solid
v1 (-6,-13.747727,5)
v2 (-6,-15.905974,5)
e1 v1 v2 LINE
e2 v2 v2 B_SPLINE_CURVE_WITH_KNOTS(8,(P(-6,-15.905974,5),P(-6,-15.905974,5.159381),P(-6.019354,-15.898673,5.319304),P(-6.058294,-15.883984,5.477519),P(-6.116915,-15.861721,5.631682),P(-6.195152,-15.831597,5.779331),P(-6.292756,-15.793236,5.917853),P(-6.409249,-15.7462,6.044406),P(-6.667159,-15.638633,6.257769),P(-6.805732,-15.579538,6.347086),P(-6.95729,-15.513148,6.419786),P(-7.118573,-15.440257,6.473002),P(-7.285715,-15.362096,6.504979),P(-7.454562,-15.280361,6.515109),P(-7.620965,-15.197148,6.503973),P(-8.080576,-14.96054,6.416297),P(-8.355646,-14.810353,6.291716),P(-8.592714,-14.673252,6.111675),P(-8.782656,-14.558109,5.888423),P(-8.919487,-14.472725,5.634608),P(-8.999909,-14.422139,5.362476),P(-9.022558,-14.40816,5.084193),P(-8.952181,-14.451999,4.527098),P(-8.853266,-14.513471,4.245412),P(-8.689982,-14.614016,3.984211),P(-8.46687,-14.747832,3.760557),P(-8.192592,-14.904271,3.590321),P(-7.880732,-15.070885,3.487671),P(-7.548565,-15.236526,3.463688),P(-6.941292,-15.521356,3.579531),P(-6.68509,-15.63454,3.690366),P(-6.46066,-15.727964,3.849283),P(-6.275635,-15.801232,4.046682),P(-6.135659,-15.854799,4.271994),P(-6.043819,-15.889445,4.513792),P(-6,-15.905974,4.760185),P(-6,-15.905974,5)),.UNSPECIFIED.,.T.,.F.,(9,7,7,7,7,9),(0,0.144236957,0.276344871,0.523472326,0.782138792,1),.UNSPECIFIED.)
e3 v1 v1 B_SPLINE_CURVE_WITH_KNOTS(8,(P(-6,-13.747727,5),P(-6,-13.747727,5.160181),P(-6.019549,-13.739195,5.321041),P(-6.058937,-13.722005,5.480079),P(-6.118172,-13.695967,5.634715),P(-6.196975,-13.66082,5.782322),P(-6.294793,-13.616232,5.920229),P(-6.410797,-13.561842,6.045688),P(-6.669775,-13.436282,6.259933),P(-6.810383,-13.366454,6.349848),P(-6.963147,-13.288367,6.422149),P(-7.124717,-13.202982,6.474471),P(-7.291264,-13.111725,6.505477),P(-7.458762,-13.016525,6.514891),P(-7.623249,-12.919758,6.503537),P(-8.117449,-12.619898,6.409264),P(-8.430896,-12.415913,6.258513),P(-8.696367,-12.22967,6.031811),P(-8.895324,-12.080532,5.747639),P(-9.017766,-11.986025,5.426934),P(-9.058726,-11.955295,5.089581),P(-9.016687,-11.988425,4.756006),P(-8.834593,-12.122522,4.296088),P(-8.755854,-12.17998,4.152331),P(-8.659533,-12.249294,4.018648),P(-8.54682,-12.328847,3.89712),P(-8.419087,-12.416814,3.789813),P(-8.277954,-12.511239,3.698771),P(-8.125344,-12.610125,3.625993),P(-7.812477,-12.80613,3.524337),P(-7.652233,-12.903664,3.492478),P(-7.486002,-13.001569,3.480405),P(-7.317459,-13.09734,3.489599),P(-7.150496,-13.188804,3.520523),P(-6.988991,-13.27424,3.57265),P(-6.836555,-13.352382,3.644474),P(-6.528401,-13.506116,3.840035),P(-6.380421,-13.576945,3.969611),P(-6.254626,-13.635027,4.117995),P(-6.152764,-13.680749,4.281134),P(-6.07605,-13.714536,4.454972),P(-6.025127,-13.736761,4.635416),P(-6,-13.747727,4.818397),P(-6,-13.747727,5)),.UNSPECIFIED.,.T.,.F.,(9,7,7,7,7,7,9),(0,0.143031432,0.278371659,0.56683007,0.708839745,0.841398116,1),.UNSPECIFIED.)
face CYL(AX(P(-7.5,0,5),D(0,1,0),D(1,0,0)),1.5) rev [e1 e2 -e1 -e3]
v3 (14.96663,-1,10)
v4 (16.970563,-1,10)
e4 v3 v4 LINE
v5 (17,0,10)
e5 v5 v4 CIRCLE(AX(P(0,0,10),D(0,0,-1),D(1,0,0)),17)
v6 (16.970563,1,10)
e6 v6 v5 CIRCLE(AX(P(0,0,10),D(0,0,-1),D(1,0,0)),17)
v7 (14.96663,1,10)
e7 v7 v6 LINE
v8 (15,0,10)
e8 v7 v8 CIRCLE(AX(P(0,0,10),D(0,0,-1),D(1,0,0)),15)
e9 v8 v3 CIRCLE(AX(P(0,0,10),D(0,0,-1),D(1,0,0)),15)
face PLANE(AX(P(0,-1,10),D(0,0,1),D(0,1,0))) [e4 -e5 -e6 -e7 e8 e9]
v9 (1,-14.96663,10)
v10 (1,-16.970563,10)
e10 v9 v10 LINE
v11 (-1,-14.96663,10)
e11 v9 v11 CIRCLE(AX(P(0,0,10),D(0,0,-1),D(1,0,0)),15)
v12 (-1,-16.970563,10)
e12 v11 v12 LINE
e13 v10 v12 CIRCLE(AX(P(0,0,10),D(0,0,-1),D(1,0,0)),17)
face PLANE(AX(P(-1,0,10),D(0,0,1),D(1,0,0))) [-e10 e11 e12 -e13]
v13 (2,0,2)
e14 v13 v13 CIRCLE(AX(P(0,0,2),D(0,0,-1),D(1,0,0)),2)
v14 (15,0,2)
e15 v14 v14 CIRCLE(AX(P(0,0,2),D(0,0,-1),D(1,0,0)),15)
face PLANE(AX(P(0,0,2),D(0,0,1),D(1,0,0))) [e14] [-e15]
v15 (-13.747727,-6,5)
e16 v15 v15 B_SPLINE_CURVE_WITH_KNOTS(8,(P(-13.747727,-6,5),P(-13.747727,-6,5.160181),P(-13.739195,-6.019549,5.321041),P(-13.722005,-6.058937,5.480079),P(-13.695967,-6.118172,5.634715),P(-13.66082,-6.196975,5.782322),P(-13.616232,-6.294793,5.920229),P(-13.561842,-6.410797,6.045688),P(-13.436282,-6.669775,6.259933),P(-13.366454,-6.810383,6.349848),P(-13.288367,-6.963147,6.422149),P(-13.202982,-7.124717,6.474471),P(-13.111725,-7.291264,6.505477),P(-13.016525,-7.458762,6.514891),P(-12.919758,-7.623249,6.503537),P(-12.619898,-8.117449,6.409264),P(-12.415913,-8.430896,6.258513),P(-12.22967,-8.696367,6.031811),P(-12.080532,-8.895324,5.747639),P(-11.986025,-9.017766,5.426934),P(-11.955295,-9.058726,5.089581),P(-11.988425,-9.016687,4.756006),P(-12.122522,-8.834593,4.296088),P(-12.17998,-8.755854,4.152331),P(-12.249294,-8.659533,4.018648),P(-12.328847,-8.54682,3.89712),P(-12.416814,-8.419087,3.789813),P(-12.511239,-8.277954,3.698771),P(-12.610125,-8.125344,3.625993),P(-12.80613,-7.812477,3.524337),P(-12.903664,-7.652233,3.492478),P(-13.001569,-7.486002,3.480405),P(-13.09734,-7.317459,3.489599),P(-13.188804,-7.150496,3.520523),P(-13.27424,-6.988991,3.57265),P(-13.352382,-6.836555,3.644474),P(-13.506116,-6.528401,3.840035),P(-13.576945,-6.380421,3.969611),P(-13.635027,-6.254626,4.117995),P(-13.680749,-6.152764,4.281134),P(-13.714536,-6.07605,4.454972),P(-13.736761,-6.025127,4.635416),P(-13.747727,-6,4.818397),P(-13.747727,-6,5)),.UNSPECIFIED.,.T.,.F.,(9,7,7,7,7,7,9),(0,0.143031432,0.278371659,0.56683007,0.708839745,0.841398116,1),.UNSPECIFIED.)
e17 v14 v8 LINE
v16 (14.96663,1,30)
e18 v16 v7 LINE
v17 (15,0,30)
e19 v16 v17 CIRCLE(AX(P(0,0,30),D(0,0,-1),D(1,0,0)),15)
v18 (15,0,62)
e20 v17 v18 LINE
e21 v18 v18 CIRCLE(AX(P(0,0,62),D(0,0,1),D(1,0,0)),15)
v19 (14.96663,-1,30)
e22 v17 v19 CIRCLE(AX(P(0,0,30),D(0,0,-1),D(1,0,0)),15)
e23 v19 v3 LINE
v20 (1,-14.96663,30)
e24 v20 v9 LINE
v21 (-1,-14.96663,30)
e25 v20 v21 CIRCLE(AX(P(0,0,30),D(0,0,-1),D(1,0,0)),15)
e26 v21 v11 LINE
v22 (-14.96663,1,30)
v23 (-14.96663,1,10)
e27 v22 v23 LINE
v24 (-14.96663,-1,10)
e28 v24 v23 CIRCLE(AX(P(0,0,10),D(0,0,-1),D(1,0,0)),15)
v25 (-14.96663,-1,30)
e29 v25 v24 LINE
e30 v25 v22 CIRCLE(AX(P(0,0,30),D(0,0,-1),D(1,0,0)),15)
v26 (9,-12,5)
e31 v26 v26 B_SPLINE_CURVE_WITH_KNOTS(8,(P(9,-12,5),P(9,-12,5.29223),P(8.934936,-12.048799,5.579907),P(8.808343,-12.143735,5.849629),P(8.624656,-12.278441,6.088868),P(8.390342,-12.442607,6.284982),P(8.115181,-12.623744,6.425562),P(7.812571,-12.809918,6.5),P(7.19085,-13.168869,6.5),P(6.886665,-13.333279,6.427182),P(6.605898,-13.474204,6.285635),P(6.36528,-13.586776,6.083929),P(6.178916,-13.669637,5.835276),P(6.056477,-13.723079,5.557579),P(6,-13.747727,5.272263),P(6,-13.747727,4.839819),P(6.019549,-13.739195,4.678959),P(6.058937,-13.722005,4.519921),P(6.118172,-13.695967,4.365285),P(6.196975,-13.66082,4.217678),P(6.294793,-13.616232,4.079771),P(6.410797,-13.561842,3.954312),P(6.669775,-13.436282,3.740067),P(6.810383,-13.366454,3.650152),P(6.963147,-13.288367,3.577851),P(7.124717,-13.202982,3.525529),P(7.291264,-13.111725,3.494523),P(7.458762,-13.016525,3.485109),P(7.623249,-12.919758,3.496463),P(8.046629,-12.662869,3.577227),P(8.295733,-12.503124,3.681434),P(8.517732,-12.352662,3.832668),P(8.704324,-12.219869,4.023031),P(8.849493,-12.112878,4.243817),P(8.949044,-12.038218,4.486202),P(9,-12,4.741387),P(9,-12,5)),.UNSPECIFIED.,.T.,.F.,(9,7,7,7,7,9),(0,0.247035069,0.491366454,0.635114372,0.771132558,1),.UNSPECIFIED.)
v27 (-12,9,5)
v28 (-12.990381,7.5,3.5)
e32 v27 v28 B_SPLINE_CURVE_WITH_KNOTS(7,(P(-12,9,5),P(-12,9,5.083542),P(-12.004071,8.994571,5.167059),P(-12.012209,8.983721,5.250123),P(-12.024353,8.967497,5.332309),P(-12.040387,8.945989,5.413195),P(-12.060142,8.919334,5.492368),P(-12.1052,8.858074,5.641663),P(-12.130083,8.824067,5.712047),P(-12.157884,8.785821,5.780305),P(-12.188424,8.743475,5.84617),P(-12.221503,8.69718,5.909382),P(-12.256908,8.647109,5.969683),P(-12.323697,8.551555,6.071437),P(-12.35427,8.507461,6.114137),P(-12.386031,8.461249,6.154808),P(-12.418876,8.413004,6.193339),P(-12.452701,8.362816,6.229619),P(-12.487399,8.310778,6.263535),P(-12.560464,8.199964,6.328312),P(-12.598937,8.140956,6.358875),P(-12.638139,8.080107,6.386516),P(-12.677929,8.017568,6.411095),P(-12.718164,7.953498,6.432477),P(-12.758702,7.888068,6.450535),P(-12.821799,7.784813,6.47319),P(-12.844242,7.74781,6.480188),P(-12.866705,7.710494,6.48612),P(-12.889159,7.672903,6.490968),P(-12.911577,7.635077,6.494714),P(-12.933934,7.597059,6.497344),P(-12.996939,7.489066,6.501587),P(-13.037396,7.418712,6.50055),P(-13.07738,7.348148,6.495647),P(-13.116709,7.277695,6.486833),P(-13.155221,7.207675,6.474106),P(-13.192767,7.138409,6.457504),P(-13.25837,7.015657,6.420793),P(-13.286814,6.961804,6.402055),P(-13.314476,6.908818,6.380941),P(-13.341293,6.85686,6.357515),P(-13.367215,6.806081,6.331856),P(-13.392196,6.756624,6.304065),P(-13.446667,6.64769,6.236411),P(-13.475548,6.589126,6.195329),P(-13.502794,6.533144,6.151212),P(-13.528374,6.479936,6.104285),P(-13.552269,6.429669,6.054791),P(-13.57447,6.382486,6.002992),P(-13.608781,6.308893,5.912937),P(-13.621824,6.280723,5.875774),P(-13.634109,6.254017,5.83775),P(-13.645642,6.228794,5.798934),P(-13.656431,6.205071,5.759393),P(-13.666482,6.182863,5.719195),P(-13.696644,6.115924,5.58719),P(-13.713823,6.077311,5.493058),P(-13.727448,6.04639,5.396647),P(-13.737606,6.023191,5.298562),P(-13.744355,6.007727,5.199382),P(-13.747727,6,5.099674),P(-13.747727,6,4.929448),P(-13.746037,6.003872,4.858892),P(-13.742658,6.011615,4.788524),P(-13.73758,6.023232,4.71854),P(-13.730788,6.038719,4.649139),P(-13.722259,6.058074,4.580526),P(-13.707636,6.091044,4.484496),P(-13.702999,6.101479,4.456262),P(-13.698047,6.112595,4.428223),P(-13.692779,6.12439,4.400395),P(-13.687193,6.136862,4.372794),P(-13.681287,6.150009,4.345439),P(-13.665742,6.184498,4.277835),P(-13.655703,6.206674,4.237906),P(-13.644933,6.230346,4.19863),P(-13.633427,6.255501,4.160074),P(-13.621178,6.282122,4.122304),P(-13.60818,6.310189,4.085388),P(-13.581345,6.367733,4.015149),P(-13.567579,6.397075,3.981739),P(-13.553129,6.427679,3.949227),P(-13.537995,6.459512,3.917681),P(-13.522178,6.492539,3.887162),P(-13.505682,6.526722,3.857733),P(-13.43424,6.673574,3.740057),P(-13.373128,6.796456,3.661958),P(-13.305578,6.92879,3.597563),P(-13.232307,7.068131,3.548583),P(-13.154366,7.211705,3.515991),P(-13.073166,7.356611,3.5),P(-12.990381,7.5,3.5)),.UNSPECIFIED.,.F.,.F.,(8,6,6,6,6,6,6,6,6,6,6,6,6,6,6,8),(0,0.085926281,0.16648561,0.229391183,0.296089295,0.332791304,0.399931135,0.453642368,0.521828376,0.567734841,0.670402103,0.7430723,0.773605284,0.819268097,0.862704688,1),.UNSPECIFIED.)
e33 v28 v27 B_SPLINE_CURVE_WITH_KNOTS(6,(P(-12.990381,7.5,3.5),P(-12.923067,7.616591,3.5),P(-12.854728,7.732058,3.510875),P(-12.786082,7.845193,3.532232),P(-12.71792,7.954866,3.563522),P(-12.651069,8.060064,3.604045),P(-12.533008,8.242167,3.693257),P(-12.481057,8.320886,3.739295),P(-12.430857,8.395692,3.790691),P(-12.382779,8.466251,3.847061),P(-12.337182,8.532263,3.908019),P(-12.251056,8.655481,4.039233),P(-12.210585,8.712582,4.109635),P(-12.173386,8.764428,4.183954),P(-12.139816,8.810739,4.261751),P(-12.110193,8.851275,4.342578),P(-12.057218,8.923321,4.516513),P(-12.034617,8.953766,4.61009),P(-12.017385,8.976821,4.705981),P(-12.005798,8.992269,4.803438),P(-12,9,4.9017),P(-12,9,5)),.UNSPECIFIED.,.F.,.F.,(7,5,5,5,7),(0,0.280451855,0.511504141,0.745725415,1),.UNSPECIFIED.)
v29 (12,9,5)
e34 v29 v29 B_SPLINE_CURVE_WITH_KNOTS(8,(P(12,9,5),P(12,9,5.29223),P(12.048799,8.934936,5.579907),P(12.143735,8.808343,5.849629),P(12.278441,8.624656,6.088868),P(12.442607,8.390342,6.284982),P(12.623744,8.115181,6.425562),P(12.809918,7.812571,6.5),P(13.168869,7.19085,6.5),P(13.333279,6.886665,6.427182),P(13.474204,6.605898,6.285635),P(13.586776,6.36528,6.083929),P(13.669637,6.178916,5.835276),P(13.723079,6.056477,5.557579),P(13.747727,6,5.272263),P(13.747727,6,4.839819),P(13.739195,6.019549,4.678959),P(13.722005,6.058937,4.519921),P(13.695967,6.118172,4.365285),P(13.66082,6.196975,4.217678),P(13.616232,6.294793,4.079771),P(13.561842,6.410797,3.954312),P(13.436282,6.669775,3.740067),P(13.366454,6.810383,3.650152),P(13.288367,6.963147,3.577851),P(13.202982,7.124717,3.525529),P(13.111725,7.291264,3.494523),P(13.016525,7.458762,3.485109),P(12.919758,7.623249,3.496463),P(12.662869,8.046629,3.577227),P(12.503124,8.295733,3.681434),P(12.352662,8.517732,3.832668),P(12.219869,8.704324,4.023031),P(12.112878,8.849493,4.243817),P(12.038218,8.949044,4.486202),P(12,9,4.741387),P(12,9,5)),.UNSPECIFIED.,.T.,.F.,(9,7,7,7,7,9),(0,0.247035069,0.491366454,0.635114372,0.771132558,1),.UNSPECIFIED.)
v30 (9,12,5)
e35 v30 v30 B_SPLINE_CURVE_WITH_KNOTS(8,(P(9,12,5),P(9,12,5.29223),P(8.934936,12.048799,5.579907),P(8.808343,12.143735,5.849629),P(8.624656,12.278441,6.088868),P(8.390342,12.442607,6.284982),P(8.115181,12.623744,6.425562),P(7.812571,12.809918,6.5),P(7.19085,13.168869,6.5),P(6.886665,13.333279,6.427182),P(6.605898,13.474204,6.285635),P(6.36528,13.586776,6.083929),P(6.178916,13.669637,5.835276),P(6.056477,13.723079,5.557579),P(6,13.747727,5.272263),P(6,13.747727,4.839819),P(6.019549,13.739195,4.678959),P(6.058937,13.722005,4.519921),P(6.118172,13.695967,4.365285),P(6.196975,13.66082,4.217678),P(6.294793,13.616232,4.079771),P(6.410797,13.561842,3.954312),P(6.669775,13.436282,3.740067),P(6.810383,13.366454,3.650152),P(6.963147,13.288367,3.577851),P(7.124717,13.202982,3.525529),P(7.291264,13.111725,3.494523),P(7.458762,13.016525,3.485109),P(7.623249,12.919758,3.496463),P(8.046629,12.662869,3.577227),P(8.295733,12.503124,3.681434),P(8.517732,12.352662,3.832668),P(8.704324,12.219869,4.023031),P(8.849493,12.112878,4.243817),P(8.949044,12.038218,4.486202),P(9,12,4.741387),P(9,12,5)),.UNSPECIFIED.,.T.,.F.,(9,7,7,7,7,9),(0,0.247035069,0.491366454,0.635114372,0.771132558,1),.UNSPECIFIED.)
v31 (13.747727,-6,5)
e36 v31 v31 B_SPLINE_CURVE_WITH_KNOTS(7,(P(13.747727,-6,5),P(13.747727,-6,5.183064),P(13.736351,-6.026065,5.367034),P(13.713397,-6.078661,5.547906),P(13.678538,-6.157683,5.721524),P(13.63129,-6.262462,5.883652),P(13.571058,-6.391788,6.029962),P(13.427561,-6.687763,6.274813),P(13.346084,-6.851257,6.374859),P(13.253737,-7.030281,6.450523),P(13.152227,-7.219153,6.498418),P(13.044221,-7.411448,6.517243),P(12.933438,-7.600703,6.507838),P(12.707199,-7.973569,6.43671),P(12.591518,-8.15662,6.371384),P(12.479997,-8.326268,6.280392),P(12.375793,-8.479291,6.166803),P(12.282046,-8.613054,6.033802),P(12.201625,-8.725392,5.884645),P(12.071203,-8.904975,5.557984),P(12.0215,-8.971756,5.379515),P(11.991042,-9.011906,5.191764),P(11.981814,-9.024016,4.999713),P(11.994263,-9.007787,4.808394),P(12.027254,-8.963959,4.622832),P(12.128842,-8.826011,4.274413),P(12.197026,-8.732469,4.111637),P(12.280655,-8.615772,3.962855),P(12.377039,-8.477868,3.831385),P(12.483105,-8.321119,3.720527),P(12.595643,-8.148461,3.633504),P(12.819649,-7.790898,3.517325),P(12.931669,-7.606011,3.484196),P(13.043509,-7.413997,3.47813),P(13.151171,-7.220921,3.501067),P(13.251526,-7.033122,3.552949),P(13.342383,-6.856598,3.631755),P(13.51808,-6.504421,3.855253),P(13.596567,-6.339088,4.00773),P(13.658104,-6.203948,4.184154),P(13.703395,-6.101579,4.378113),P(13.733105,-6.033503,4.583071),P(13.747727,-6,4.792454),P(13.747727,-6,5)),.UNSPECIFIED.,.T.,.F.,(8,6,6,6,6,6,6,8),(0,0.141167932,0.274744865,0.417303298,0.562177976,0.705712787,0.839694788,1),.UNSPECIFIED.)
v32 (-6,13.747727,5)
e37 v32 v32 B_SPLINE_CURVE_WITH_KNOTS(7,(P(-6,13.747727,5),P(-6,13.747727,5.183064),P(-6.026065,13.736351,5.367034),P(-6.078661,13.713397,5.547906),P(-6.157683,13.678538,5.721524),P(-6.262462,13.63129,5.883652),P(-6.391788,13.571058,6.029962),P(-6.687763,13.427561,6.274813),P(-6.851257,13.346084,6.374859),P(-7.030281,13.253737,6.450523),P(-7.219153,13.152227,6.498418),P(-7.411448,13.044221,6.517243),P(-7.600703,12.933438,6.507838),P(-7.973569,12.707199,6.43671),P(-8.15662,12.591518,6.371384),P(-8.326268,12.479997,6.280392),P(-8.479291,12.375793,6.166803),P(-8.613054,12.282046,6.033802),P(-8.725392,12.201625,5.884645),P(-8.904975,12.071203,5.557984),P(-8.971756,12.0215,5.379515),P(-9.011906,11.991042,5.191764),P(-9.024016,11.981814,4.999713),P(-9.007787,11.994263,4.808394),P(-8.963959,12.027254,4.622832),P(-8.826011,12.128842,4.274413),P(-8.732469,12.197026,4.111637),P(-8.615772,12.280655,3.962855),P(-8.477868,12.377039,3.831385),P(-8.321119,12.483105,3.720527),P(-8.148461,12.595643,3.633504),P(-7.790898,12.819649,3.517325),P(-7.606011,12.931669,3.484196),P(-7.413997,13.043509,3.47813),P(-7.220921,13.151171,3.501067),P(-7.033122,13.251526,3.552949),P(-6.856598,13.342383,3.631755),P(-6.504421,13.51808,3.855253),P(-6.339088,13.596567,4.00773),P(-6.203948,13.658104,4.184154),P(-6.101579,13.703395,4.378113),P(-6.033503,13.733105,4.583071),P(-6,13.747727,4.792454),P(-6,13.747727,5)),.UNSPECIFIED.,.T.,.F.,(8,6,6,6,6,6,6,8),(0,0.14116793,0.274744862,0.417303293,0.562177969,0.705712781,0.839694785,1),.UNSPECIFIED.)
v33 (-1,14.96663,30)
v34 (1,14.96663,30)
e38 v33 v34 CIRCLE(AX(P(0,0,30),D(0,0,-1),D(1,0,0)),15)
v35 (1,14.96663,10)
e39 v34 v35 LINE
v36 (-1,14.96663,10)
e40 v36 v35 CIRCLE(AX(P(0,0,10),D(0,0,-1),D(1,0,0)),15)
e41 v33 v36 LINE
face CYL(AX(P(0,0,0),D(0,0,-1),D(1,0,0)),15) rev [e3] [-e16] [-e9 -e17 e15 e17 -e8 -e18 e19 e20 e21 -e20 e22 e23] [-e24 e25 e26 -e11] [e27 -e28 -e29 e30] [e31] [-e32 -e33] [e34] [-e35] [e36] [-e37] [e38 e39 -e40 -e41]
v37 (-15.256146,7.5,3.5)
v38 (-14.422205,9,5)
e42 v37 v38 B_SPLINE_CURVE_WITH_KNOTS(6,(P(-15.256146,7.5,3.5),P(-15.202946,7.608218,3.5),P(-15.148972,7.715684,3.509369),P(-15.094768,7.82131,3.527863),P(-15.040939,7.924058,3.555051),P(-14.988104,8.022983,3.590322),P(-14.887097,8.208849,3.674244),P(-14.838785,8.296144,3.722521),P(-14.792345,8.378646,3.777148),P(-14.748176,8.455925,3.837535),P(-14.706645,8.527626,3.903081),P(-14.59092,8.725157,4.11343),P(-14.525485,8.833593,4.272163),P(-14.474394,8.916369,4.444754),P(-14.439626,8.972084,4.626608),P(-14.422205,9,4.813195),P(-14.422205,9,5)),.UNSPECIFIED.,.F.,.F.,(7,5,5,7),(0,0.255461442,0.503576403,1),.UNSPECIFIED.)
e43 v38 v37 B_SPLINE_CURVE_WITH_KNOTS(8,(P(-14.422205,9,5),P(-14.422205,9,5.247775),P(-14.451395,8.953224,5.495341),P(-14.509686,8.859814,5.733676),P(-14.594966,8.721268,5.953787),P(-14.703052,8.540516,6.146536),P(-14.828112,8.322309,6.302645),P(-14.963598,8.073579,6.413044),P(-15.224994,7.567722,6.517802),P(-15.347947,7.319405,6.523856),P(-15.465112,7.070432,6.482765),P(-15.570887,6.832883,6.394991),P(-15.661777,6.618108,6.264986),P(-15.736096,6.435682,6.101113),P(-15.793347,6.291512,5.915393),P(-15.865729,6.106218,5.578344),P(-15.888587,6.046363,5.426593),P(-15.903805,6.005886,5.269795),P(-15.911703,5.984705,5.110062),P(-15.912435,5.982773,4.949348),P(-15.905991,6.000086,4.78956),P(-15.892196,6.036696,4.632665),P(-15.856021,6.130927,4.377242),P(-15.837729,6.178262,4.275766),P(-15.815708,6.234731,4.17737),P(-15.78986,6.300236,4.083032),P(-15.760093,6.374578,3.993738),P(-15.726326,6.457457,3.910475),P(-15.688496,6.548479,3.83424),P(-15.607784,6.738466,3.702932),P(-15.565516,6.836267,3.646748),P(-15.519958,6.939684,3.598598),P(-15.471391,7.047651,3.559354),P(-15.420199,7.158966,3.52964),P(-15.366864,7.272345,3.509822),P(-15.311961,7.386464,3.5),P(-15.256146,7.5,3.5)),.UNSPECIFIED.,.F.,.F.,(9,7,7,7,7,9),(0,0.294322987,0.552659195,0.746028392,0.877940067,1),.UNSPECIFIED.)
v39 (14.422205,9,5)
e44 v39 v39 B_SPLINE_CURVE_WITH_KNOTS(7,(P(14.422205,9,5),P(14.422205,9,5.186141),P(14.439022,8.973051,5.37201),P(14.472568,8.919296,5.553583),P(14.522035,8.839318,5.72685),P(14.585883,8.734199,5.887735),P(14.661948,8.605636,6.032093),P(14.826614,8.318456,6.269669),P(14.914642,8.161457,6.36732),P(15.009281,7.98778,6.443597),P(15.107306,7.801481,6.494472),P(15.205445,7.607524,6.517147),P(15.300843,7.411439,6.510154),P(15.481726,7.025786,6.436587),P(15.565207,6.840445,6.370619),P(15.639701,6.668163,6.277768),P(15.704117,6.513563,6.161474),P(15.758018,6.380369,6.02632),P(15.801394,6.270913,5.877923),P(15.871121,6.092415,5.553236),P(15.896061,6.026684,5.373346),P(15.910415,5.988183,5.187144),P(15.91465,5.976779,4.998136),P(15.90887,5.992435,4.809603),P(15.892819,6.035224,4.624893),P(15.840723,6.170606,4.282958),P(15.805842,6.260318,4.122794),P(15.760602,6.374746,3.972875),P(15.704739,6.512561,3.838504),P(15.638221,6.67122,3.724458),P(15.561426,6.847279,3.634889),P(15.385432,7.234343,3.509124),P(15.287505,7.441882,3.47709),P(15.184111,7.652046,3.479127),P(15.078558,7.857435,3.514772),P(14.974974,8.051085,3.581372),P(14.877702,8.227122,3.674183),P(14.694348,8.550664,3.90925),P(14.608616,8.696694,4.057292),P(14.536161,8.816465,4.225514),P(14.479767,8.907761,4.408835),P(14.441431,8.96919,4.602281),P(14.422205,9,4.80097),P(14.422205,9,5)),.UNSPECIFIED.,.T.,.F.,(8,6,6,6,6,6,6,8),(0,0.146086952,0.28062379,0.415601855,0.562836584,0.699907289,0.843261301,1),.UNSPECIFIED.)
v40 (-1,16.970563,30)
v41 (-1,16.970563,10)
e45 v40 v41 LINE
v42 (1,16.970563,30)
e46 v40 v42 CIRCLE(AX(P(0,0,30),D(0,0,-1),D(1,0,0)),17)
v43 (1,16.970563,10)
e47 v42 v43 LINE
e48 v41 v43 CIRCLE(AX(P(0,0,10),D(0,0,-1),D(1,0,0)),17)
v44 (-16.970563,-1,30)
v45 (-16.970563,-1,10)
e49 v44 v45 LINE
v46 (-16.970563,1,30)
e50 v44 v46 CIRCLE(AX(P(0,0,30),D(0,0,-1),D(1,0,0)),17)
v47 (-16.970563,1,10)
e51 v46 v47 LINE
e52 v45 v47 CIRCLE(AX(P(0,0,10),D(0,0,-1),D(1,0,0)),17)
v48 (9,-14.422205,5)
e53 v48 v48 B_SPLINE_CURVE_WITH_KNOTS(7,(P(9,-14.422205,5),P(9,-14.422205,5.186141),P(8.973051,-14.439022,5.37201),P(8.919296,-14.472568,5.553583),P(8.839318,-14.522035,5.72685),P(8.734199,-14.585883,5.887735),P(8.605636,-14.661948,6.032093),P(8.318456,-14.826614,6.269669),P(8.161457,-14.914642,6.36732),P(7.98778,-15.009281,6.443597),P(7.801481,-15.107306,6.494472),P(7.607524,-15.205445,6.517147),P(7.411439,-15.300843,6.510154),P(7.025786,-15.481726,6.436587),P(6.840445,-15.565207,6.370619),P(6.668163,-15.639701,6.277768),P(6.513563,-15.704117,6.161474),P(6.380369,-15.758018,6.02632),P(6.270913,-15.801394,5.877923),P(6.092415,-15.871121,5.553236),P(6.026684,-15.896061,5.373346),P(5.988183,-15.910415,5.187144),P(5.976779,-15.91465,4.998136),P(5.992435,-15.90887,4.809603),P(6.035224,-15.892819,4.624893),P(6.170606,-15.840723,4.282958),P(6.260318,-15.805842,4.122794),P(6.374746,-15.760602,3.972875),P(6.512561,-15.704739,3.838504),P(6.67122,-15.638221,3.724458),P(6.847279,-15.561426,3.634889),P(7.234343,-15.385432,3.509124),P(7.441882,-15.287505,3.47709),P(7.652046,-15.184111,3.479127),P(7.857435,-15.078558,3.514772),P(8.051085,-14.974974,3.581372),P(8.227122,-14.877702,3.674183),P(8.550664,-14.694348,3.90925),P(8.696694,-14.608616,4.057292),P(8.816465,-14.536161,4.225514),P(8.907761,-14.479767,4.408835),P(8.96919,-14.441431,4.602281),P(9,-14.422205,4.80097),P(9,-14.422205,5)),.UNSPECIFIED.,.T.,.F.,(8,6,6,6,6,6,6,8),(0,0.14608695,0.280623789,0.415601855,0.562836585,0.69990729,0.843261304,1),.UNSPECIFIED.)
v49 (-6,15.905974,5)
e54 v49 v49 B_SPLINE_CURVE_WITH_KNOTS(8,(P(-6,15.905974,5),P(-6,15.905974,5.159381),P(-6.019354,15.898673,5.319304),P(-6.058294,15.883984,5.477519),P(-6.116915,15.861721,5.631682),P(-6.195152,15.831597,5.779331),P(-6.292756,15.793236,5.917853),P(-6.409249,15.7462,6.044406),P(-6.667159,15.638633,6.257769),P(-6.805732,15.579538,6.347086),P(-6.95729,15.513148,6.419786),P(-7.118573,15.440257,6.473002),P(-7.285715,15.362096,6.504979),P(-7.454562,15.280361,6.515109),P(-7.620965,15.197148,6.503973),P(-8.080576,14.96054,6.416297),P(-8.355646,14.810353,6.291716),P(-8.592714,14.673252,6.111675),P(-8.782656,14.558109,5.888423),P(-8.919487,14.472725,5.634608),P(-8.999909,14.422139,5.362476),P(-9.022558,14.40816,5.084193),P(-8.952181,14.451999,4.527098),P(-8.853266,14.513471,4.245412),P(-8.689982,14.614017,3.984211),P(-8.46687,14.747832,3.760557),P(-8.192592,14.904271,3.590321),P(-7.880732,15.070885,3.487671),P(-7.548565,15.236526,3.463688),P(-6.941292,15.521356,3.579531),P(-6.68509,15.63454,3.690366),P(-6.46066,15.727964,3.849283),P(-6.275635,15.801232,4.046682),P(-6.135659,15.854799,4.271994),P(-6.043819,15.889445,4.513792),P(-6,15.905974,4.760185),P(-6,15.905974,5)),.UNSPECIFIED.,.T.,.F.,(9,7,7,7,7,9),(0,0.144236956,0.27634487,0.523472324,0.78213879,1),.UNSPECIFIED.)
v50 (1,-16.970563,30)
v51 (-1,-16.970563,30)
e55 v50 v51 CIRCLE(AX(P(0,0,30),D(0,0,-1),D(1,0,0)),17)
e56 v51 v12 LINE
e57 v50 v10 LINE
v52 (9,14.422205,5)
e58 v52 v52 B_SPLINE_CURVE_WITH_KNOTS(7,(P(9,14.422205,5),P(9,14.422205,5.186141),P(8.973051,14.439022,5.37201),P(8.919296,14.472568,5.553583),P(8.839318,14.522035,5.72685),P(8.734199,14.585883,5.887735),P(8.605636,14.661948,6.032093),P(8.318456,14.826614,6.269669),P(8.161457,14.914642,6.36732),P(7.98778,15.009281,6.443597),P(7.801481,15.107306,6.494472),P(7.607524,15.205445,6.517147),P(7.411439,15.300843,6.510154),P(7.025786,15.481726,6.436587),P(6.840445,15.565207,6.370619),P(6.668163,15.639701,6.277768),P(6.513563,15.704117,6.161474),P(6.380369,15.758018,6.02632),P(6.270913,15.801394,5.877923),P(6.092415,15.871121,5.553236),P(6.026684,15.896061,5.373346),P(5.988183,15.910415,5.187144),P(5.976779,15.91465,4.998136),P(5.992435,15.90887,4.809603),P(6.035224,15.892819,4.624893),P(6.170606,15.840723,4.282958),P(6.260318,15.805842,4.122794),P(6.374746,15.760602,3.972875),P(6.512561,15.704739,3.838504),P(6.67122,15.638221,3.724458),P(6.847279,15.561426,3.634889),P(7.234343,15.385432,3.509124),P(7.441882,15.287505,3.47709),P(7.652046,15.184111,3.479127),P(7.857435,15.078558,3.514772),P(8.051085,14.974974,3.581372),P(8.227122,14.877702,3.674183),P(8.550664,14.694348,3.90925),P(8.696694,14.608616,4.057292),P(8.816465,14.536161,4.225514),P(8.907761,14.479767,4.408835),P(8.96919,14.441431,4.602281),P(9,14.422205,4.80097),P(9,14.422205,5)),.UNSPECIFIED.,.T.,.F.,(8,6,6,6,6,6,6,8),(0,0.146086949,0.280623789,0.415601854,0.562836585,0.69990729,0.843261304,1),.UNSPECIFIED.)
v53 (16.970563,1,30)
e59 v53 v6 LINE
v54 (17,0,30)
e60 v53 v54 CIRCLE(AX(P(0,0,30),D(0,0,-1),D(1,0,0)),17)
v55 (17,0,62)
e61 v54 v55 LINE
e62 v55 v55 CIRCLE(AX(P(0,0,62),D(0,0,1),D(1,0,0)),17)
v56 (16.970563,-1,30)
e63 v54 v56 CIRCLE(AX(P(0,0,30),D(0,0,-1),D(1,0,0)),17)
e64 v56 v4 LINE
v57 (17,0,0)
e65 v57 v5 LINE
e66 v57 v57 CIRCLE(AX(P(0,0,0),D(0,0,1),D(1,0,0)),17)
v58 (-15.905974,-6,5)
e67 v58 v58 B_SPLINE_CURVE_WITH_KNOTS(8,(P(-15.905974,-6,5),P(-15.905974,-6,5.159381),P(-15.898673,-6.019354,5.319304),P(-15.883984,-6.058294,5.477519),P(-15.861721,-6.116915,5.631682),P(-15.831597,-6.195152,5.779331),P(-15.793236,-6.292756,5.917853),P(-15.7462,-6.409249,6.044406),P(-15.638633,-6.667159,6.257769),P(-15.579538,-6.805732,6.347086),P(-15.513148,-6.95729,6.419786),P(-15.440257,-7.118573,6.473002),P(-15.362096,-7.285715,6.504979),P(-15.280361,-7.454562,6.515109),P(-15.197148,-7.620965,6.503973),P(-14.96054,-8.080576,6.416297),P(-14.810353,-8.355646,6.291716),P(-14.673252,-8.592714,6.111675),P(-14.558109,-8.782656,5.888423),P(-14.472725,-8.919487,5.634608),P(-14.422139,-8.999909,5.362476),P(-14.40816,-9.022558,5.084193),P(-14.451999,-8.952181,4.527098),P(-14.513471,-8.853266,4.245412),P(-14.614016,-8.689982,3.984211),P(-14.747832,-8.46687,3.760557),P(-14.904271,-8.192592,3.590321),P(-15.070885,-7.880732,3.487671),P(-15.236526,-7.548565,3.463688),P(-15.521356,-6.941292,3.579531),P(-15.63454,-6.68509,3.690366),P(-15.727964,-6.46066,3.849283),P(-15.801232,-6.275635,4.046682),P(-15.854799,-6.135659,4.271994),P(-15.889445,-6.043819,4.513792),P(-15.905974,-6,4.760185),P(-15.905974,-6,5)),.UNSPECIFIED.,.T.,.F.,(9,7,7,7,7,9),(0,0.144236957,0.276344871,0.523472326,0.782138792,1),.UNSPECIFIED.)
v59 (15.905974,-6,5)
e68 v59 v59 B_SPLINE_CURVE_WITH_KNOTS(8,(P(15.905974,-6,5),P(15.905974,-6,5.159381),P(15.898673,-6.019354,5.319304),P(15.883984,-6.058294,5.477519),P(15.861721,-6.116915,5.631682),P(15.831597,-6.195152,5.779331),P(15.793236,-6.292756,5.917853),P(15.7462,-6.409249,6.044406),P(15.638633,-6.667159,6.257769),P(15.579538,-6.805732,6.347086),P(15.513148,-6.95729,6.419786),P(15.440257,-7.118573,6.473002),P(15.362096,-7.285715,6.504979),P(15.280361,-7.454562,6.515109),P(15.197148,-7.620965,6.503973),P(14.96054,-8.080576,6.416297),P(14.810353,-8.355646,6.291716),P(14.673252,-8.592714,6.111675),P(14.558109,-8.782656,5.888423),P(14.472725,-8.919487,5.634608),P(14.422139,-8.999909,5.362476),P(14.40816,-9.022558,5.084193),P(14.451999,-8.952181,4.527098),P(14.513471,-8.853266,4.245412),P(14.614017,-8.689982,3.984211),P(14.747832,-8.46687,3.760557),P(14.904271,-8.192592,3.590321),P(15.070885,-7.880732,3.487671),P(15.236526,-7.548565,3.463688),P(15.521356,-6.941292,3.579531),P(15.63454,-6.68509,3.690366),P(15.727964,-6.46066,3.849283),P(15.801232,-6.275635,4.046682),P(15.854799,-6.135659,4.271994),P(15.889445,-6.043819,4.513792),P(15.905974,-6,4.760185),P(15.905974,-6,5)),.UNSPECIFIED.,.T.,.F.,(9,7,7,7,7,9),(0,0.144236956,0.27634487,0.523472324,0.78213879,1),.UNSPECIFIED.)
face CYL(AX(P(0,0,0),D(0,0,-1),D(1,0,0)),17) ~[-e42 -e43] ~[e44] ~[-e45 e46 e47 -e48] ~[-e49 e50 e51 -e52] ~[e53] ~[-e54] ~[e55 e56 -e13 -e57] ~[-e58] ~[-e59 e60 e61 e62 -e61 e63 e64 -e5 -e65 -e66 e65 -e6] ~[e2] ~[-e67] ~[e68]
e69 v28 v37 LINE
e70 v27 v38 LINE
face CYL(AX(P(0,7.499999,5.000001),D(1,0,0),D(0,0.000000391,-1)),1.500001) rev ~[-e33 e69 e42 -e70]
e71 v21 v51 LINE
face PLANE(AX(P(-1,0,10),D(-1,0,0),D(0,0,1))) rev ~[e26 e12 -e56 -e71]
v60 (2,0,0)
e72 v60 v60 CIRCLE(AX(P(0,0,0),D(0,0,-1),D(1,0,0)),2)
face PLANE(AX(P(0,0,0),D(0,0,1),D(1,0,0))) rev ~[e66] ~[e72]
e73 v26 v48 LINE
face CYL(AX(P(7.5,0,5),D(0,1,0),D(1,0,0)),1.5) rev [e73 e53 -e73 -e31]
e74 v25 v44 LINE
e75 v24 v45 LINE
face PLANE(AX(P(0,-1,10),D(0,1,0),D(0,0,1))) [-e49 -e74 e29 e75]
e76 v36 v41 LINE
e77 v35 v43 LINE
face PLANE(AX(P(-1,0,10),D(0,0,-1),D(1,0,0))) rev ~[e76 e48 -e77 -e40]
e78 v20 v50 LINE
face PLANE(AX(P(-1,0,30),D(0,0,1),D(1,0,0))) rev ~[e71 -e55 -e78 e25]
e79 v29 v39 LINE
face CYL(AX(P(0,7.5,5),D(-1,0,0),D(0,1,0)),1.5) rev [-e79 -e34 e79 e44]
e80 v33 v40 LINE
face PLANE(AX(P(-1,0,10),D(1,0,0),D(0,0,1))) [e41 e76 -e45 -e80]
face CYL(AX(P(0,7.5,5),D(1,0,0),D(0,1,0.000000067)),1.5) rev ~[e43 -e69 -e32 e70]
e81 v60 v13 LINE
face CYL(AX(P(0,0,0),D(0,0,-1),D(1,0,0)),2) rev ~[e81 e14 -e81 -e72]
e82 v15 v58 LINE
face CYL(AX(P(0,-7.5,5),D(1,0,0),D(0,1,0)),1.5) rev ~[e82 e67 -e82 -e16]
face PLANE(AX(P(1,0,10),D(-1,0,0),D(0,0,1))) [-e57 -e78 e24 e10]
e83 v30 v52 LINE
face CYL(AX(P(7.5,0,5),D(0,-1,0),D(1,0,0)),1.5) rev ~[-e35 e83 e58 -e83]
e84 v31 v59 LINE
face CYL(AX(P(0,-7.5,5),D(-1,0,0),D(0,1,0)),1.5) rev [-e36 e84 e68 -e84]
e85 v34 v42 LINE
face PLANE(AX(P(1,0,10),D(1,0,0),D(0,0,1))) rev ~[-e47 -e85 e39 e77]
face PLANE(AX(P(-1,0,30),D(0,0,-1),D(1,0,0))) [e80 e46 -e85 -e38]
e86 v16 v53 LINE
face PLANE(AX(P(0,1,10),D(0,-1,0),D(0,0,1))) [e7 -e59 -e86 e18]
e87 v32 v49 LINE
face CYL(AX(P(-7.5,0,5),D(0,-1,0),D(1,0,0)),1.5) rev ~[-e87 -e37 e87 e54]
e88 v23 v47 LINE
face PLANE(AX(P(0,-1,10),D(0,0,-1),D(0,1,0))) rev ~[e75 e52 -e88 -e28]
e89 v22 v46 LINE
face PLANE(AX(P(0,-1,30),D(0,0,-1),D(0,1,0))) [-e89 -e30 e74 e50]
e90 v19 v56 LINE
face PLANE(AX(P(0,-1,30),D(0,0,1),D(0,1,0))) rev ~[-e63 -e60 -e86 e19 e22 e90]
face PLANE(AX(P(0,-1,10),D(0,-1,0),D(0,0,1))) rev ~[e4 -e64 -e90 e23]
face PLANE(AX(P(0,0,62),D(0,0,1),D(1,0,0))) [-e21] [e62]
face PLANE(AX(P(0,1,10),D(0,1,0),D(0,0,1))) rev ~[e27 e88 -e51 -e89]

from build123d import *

# Parameters (mm, degrees)
F0_R      = 17
F1_DEPTH  = 62
F2_T      = -2
F3_W      = 2
F3_H      = 20
F4_DEPTH  = 25
F5_W      = 2
F5_H      = 20
F6_DEPTH  = 25
F7_W      = 2
F7_H      = 20
F8_DEPTH  = 25
F9_W      = 2
F9_H      = 20
F10_DEPTH = 25
F11_R     = 1.5
F12_DEPTH = 25
F13_R     = 1.5
F14_DEPTH = 25
F15_R     = 1.5
F16_DEPTH = 25
F17_R     = 1.5
F18_DEPTH = 25
F19_R     = 2
F20_DEPTH = 25


with BuildPart() as f1:
    # F0 (on Top) → F1 (new body)
    with BuildSketch(Plane.XY):
        Circle(F0_R)
    extrude(amount=F1_DEPTH)

    # F2
    f2_openings = [f1.faces().sort_by_distance(p)[0] for p in [
        (0, 0, 62),
    ]]
    offset(amount=F2_T, openings=f2_openings)

    # F3 (on Front) → F4 (cut)
    with BuildSketch(Plane.XZ):
        with Locations((0, 20)):
            Rectangle(F3_W, F3_H)
    extrude(amount=-F4_DEPTH, mode=Mode.SUBTRACT)

    # F5 (on Front) → F6 (cut)
    with BuildSketch(Plane.XZ):
        with Locations((0, 20)):
            Rectangle(F5_W, F5_H)
    extrude(amount=F6_DEPTH, mode=Mode.SUBTRACT)

    # F7 (on Right) → F8 (cut)
    with BuildSketch(Plane.YZ):
        with Locations((0, 20)):
            Rectangle(F7_W, F7_H)
    extrude(amount=-F8_DEPTH, mode=Mode.SUBTRACT)

    # F9 (on Right) → F10 (cut)
    with BuildSketch(Plane.YZ):
        with Locations((0, 20)):
            Rectangle(F9_W, F9_H)
    extrude(amount=F10_DEPTH, mode=Mode.SUBTRACT)

    # F11 (on Front) → F12 (cut)
    with BuildSketch(Plane.XZ):
        with Locations((7.5, 5)):
            Circle(F11_R)
        with Locations((-7.5, 5)):
            Circle(F11_R)
    extrude(amount=-F12_DEPTH, mode=Mode.SUBTRACT)

    # F13 (on Front) → F14 (cut)
    with BuildSketch(Plane.XZ):
        with Locations((7.5, 5)):
            Circle(F13_R)
        with Locations((-7.5, 5)):
            Circle(F13_R)
    extrude(amount=F14_DEPTH, mode=Mode.SUBTRACT)

    # F15 (on Right) → F16 (cut)
    with BuildSketch(Plane.YZ):
        with BuildLine():
            ThreePointArc((7.5, 3.5), (8.56066, 3.93934), (9, 5))
            ThreePointArc((9, 5), (6.43934, 6.06066), (7.5, 3.5))
        make_face()
        with Locations((-7.5, 5)):
            Circle(F15_R)
    extrude(amount=-F16_DEPTH, mode=Mode.SUBTRACT)

    # F17 (on Right) → F18 (cut)
    with BuildSketch(Plane.YZ):
        with Locations((-7.5, 5)):
            Circle(F17_R)
        with Locations((7.5, 5)):
            Circle(F17_R)
    extrude(amount=F18_DEPTH, mode=Mode.SUBTRACT)

    # F19 (on face) → F20 (cut)
    with BuildSketch(Plane(origin=(0, 0, 0), x_dir=(1, 0, 0), z_dir=(0, 0, -1))):
        Circle(F19_R)
    extrude(amount=-F20_DEPTH, mode=Mode.SUBTRACT)


solid = f1.part
